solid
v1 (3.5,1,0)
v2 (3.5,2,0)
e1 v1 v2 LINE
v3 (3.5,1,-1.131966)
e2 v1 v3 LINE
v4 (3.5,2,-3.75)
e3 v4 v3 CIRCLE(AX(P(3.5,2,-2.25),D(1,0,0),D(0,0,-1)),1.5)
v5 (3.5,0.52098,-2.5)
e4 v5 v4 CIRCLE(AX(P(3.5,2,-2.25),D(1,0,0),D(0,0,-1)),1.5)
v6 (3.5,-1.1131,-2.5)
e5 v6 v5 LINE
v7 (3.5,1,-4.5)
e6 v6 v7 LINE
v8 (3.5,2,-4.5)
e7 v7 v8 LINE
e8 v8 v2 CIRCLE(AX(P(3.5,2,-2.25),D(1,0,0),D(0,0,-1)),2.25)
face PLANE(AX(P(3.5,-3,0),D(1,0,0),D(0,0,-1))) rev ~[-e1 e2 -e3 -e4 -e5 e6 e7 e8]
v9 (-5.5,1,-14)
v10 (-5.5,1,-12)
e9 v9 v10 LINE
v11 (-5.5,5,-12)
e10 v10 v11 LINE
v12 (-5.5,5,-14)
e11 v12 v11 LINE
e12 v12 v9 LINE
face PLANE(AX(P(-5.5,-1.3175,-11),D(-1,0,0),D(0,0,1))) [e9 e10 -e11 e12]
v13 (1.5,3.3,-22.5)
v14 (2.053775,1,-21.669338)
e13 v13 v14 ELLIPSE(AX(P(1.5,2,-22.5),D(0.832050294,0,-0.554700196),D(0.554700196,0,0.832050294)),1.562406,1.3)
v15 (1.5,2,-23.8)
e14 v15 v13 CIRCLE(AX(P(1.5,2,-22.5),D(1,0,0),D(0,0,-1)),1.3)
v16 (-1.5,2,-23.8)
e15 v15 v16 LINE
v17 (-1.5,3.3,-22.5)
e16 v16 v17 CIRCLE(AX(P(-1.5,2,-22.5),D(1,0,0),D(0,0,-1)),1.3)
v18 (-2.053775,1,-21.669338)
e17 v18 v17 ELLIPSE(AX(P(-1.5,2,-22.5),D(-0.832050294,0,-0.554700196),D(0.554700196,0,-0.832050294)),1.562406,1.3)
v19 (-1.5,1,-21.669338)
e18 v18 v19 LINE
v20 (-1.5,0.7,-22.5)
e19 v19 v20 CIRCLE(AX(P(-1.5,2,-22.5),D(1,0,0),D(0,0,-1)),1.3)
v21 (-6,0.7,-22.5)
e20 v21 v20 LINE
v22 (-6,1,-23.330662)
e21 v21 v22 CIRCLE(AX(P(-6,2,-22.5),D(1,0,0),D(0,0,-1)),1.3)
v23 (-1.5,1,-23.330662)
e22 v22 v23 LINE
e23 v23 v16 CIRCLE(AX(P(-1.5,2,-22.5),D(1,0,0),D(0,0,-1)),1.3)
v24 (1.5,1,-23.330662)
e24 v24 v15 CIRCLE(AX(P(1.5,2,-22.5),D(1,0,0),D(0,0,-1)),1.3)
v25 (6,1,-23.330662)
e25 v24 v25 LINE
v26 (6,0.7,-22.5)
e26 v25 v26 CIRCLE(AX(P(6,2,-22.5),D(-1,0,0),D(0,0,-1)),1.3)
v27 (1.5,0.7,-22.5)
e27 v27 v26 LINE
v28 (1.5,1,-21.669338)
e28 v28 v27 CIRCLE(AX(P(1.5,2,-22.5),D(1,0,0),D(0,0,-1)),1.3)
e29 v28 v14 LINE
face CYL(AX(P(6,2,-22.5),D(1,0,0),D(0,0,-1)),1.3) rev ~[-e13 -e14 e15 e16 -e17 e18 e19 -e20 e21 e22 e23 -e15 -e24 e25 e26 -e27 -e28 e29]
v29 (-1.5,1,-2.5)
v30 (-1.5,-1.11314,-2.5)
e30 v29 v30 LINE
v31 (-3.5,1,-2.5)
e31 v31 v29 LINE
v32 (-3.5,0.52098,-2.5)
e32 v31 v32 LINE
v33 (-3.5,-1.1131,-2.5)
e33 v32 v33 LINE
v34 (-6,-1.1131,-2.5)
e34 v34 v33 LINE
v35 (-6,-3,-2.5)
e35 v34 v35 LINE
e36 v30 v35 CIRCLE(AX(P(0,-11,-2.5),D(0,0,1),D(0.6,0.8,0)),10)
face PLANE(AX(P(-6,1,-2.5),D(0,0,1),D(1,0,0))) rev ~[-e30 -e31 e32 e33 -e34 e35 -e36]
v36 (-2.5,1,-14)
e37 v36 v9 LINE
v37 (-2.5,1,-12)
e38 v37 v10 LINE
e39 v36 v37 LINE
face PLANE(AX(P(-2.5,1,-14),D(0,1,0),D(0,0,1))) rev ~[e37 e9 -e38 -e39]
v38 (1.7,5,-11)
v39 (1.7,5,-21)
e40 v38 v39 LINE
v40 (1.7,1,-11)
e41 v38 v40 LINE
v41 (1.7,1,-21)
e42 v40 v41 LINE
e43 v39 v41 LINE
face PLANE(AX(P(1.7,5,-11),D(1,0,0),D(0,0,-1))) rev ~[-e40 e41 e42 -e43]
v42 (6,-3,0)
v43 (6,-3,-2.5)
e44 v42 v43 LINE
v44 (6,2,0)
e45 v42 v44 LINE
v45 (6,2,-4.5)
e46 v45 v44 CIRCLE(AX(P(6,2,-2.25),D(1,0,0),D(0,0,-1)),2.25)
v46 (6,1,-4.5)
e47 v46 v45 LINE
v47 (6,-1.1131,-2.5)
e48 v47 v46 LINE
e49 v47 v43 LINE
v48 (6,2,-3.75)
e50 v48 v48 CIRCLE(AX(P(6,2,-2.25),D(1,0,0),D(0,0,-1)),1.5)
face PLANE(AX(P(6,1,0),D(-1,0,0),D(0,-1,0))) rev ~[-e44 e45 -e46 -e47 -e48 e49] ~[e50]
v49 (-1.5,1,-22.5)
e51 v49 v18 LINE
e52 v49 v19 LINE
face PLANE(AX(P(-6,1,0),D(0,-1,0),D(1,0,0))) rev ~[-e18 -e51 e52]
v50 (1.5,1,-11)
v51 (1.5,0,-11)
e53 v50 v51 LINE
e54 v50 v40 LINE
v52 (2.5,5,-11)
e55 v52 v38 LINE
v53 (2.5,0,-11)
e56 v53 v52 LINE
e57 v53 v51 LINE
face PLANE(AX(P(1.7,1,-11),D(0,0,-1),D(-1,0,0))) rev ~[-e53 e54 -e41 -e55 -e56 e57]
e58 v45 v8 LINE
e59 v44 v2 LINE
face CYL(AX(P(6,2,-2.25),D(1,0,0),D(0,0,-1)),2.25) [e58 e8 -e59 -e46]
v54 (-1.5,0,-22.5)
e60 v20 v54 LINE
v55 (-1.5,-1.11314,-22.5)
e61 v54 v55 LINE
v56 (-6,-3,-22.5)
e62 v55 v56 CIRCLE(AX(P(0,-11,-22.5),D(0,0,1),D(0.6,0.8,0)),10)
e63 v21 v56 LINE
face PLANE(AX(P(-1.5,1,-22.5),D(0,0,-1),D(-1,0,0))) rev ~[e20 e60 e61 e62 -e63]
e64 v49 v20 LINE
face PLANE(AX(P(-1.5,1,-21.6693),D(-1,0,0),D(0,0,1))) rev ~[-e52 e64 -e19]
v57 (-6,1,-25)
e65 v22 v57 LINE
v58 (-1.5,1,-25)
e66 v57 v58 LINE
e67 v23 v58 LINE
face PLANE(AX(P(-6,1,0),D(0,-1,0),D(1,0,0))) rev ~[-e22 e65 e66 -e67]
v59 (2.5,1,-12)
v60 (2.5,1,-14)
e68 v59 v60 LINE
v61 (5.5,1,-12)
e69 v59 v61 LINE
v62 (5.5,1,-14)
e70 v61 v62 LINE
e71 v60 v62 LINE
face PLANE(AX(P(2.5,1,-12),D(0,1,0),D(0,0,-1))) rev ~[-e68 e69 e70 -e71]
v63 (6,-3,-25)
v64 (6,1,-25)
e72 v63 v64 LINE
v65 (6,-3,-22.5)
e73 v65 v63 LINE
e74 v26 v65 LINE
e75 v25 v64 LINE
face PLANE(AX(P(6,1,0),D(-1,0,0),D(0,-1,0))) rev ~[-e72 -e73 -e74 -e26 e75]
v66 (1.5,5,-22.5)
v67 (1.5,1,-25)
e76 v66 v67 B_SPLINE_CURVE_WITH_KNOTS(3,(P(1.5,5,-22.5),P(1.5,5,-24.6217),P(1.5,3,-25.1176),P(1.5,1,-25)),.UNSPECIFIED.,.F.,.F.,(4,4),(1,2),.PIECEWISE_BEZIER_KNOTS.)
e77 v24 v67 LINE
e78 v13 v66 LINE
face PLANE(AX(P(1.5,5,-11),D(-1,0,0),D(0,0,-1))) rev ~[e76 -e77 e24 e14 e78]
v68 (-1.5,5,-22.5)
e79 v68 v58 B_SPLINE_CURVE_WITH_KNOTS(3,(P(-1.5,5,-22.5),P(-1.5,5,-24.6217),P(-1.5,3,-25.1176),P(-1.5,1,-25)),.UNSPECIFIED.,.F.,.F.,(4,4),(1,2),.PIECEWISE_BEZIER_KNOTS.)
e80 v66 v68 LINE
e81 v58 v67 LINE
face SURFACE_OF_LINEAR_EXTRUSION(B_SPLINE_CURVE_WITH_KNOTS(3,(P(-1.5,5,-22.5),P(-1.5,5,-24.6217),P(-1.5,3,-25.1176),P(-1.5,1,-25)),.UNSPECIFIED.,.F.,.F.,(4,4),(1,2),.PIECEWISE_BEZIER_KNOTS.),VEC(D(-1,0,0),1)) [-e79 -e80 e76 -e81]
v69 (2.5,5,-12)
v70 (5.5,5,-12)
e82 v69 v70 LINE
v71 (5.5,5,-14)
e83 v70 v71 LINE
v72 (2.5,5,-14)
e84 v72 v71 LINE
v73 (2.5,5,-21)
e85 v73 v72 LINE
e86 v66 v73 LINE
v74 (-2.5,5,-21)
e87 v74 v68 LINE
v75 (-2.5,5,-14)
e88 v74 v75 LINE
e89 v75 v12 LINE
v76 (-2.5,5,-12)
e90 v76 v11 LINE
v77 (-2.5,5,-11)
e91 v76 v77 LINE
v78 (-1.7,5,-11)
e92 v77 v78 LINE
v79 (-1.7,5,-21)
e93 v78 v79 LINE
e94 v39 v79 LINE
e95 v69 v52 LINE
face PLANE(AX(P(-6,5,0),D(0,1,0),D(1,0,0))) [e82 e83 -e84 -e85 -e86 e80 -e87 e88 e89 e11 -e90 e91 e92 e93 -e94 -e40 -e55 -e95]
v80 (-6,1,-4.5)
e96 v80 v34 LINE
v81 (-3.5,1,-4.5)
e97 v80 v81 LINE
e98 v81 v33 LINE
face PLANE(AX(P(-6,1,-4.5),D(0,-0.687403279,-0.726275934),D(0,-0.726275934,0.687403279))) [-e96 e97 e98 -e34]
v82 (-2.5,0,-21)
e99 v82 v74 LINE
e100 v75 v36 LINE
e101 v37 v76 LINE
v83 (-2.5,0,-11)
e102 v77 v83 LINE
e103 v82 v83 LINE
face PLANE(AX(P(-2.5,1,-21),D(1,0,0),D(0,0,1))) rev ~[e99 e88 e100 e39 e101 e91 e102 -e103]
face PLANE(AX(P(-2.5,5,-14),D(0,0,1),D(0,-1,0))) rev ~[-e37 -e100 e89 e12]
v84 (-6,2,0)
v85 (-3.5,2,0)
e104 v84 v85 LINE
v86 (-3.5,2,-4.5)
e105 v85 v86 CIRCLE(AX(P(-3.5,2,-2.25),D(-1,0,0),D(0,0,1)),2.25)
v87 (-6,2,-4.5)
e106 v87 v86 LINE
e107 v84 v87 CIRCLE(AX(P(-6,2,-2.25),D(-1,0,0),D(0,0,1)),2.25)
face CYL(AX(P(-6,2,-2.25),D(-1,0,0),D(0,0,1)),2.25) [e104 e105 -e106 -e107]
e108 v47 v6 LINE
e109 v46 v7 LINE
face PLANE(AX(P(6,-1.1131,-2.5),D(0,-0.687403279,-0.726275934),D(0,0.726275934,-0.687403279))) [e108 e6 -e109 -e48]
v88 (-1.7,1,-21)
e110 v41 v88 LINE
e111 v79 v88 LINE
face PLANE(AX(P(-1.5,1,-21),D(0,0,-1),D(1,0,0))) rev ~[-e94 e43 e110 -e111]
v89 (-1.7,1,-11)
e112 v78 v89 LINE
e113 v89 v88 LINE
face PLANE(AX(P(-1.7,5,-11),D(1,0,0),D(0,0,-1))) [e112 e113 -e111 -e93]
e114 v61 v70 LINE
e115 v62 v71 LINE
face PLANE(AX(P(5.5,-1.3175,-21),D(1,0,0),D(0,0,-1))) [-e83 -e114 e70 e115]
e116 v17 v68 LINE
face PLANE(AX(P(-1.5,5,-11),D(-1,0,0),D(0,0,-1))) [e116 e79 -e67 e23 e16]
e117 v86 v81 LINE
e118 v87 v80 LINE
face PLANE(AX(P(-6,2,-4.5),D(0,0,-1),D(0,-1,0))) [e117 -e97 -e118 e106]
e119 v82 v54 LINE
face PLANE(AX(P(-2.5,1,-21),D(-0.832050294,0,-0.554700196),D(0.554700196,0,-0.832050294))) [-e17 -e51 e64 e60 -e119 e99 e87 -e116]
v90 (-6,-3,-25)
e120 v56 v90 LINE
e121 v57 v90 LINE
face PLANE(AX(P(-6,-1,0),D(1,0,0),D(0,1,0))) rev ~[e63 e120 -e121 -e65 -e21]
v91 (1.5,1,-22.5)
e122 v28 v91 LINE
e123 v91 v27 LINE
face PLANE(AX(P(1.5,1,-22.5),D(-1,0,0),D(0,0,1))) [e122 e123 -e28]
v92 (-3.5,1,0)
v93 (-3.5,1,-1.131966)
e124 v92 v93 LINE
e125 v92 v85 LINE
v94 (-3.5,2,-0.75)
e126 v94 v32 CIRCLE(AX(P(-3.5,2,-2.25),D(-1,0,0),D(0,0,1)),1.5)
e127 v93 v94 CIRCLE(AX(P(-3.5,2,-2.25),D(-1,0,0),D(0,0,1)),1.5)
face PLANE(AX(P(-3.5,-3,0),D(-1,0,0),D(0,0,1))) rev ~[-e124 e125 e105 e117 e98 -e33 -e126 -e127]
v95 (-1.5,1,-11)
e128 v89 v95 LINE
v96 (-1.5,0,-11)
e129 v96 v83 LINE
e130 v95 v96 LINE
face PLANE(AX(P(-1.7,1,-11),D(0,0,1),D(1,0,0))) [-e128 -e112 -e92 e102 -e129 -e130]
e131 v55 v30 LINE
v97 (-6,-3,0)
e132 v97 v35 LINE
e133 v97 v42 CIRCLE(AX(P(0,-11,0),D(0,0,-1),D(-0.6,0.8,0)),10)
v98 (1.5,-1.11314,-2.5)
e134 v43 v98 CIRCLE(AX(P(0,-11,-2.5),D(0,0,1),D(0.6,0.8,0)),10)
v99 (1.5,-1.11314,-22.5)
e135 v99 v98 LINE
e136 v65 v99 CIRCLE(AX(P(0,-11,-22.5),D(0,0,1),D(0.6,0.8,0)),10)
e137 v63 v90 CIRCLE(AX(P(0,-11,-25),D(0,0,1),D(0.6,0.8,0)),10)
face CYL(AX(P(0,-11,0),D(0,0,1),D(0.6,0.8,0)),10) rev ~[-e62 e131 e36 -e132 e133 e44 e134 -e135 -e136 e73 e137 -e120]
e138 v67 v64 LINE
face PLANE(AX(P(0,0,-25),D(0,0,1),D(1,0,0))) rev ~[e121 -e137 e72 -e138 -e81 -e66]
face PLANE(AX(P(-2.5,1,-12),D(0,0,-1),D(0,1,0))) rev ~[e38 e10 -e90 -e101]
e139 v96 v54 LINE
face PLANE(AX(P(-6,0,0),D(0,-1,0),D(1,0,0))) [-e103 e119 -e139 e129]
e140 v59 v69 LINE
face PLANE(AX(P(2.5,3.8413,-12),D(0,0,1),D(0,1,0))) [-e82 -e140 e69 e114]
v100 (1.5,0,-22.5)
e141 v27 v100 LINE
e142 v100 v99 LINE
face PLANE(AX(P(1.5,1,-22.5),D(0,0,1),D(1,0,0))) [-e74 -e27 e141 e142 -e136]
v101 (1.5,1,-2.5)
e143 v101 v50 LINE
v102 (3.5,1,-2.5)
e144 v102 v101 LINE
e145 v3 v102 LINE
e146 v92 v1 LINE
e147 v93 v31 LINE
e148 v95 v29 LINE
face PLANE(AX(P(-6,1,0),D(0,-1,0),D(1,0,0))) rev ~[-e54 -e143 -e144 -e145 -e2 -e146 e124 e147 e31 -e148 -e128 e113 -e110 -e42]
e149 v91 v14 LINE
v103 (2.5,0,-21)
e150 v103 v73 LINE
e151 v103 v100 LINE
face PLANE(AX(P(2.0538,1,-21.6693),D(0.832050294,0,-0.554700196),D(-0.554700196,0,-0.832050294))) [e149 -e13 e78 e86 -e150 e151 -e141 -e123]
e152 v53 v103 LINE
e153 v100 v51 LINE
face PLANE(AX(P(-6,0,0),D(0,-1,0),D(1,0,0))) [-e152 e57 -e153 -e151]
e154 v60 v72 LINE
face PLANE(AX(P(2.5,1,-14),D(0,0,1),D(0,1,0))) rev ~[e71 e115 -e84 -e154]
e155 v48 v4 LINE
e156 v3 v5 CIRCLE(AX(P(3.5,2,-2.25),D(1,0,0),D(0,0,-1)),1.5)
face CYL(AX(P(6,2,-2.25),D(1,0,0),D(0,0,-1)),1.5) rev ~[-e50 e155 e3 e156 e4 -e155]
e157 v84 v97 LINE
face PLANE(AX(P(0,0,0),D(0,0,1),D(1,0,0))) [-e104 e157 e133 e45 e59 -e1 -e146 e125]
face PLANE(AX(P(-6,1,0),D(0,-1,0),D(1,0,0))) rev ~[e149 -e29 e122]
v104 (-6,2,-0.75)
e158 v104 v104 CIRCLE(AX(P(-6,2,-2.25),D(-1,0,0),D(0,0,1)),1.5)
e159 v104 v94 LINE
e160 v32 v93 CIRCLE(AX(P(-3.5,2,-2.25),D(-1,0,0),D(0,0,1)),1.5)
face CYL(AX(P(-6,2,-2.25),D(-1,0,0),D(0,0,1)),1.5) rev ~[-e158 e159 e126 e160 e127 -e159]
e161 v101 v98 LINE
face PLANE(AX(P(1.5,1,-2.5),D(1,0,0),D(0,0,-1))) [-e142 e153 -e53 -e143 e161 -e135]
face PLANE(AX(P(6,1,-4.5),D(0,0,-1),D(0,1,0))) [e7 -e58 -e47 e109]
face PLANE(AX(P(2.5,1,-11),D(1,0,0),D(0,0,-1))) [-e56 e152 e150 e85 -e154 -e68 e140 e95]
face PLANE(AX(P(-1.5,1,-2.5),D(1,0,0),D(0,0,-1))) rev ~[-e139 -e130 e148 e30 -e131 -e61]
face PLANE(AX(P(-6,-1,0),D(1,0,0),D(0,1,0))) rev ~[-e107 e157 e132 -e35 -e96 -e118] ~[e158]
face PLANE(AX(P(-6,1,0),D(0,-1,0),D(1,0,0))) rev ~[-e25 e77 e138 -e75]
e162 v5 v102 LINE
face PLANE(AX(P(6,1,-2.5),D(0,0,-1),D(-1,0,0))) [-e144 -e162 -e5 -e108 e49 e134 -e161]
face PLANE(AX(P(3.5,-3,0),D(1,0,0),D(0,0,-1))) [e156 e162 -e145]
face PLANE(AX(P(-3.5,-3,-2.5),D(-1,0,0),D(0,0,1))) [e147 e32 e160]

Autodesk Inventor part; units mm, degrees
ref_plane "YZ Plane" through (0, 0, 0) normal (1, 0, 0) x (0, 1, 0)
ref_plane "XZ Plane" through (0, 0, 0) normal (0, 1, 0) x (-1, 0, 0)
sketch "Sketch1" plane through (0, 0, 0) normal (0, 0, 1) x (1, 0, 0)
  line L0 (-6, 1) -> (6, 1)
  line L1 (6, 1) -> (6, -1)
  line L2 (6, -1) -> (-6, -1)
  line L3 (-6, -1) -> (-6, 1)
  line L4 (-6, 1) -> (6, -1) construction
  line L5 (6, 1) -> (-6, -1) construction
  line L6 (-6, -1) -> (-6, -3)
  line L7 (6, -1) -> (6, -3)
  arc A0 (6, -3) -> (-6, -3) centre (0, -11) ccw
  point P0 (0, 0)
  dimension "d0" = 12
  dimension "d1" = 2
  dimension "d2" = 2
  dimension "d3" = 2
extrude "Extrusion1" add sketch "Sketch1" against normal blind 25
sketch "Sketch2" plane through (-6, 1, 0) normal (0, 1, 0) x (1, 0, 0)
  line L0 (12, 0) -> (12, 25) projected
  line L1 (0, 0) -> (0, 25) projected
  line L2 (0, 0) -> (0, 2.5)
  line L3 (12, 0) -> (12, 2.5)
  line L4 (0, 25) -> (0, 22.5)
  line L5 (12, 25) -> (12, 22.5)
  line L6 (0, 2.5) -> (4.5, 2.5)
  line L7 (4.5, 2.5) -> (4.5, 22.5)
  line L8 (4.5, 22.5) -> (0, 22.5)
  line L9 (0, 22.5) -> (0, 2.5)
  line L10 (12, 2.5) -> (7.5, 2.5)
  line L11 (7.5, 2.5) -> (7.5, 22.5)
  line L12 (7.5, 22.5) -> (12, 22.5)
  line L13 (12, 22.5) -> (12, 2.5)
  point P0 (6, 0)
  dimension "d6" = 2.5
  dimension "d7" = 2.5
  dimension "d8" = 2.5
  dimension "d9" = 2.5
  dimension "d10" = 12
  dimension "d11" = 4.5
  dimension "d12" = 4.5
extrude "Extrusion2" cut sketch "Sketch2" against normal blind 25
sketch "Sketch3" plane through (-6, 1, 0) normal (0, 1, 0) x (1, 0, 0)
  line L0 (7.5, 2.5) -> (7.5, 22.5) projected
  line L1 (4.5, 22.5) -> (4.5, 2.5) projected
  line L2 (0, 0) -> (0, 2.5) projected
  line L3 (4.5, 2.5) -> (4.5, 3.5)
  line L4 (7.5, 2.5) -> (7.5, 3.5)
  line L5 (4.5, 3.5) -> (4.5, 5)
  line L6 (4.5, 5) -> (5, 5)
  line L7 (5, 5) -> (5, 3.5)
  line L8 (5, 3.5) -> (4.5, 3.5)
  line L9 (7.5, 3.5) -> (7.5, 5)
  line L10 (7.5, 5) -> (7, 5)
  line L11 (7, 5) -> (7, 3.5)
  line L12 (7, 3.5) -> (7.5, 3.5)
  line L13 (4.5, 2.5) -> (4.5, 7)
  line L14 (4.5, 7) -> (0, 7)
  line L15 (0, 7) -> (0, 8.5)
  line L16 (0, 8.5) -> (4.5, 8.5)
  line L17 (7.5, 7) -> (12, 7)
  line L18 (12, 7) -> (12, 8.5)
  line L19 (12, 8.5) -> (7.5, 8.5)
  line L20 (4.5, 7) -> (4.5, 21)
  line L21 (7.5, 7) -> (7.5, 21)
  line L22 (4.5, 21) -> (7.5, 21)
  line L23 (7.5, 21) -> (7.5, 22.5)
  line L24 (7.5, 22.5) -> (4.5, 22.5)
  line L25 (4.5, 22.5) -> (4.5, 21)
  line L26 (4.5, 21) -> (3.5, 21)
  line L27 (3.5, 21) -> (3.5, 11)
  line L28 (3.5, 11) -> (4.5, 11)
  line L29 (4.5, 11) -> (4.5, 21)
  line L30 (7.5, 21) -> (8.5, 21)
  line L31 (8.5, 21) -> (8.5, 11)
  line L32 (8.5, 11) -> (7.5, 11)
  line L33 (7.5, 11) -> (7.5, 21)
  line L34 (3.5, 21) -> (4.5, 22.5)
  line L35 (7.5, 22.5) -> (8.5, 21)
  line L36 (7.5, 5) -> (8, 5)
  line L37 (8, 5) -> (8, 3.5)
  line L38 (8, 3.5) -> (7.5, 3.5)
  line L39 (4.5, 5) -> (4, 5)
  line L40 (4, 5) -> (4, 3.5)
  line L41 (4, 3.5) -> (5, 3.5)
  point P0 (12, 25)
  point P1 (12, 0)
  point P2 (6, 0)
  dimension "d15" = 1
  dimension "d16" = 1.5
  dimension "d17" = 0.5
  dimension "d18" = 0.5
  dimension "d19" = 4.5
  dimension "d20" = 1.5
  dimension "d21" = 14
  dimension "d22" = 4.5
  dimension "d23" = 4.5
  dimension "d24" = 14
  dimension "d25" = 25
  dimension "d26" = 1.5
  dimension "d29" = 1
  dimension "d30" = 10
  dimension "d31" = 1
  dimension "d34" = 0.5
  dimension "d35" = 0.5
  dimension "d50" = 10
extrude "Extrusion3" add sketch "Sketch3" along normal blind 4 contours L0 L30 L31 L32 | L22 L1 L24 L0 | L0 L35 L30 | L26 L34 L1 | L1 L28 L27 L26
ref_plane "Work Plane1" through (-1.5, 1, -12.5) normal (-1, 0, 0) x (0, 0, 1)
sketch "Sketch8" plane through (-2.5, -1.3175, -11) normal (-1, 0, 0) x (0, 0, 1)
  line L0 (-10, 6.3175) -> (-11.5, 6.3175) projected
  line L1 (0, 0) -> (-10, 0) projected
  line L2 (0, 2.3175) -> (0, 6.3175) projected
  line L3 (-10, 6.3175) -> (0, 6.3175) projected
  line L4 (-10, 2.3175) -> (0, 2.3175) projected
  line L5 (-3, 6.3175) -> (-1, 6.3175)
  line L6 (-3, 2.3175) -> (-1, 2.3175)
  line L7 (0, 2.3175) -> (-10, 2.3175) projected
  line L8 (0, 2.3175) -> (-10, 2.3175) projected
  line L9 (-3, 6.3175) -> (-3, 2.3175)
  line L10 (-1, 2.3175) -> (-1, 6.3175)
  point P0 (11, 1.3175)
  dimension "d119" = 4
  dimension "d120" = 4
  dimension "d126" = 1
  dimension "d127" = 2
sketch "Sketch9" plane through (2.5, -1.3175, -21) normal (1, 0, 0) x (0, 0, -1)
  line L0 (0, 2.3175) -> (0, 6.3175) projected
  line L1 (0, 0) -> (-10, 0) projected
  line L2 (-10, 2.3175) -> (0, 2.3175) projected
  line L3 (-9, 2.3175) -> (-9, 6.3175) projected
  line L4 (-9, 5.1588) -> (-9, 6.3175)
  line L5 (-9, 6.3175) -> (-7, 6.3175)
  line L6 (-10, 6.3175) -> (0, 6.3175) projected
  line L7 (-9, 6.3175) -> (-9, 2.3175)
  line L8 (-9, 2.3175) -> (-7, 2.3175)
  line L9 (-10, 6.3175) -> (0, 6.3175) projected
  line L10 (0, 6.3175) -> (-10, 6.3175) projected
  line L11 (-10, 6.3175) -> (-9, 6.3175)
  line L12 (-7, 2.3175) -> (-7, 6.3175) projected
  line L13 (-7, 6.3175) -> (-7, 2.3175)
  point P0 (-21, 1.3175)
  point P1 (-9, 1.1588)
  dimension "d121" = 4
  dimension "d122" = 1
  dimension "d123" = 2
ref_plane "Work Plane2" through (-1.5, 5, -11) normal (-1, 0, 0) x (0, 0, -1)
sketch "Sketch12" plane through (-1.5, 5, -11) normal (-1, 0, 0) x (0, 0, -1)
  line L0 (11.5, 4) -> (11.5, 0) projected
  line L1 (14, 8) -> (14, 4) projected
  line L2 (14, 4) -> (11.5, 0)
  line L3 (11.5, 4) -> (14, 4) projected
  line L4 (14, 0) -> (11.5, 0)
  line L5 (11.5, 0) -> (13.6217, 0) construction
  line L6 (13.6217, 0) -> (14.1176, 2) construction
  line L7 (14.1176, 2) -> (14, 4) construction
  spline S0 degree 3 poles (11.5, 0) (13.6217, 0) (14.1176, 2) (14, 4) knots 1 1 1 1 2 2 2 2
  point P0 (-11, 5)
extrude "Extrusion12" add sketch "Sketch12" against normal up to surface (3 mm away)
sketch "Sketch15" plane through (2.5, -1.3175, -21) normal (1, 0, 0) x (0, 0, -1)
  line L0 (1.5, 2.3175) -> (4, 2.3175) projected
  line L1 (1.5, 2.3175) -> (1.5, 6.3175) projected
  line L2 (4, 2.3175) -> (1.5, 2.3175) projected
  line L3 (1.5, 2.3175) -> (1.5, 3.3175)
  circle A0 centre (1.5, 3.3175) radius 1.3
  point P0 (-21, 1.3175)
  dimension "d77" = 1
  dimension "d78" = 2.6
extrude "Extrusion14" cut sketch "Sketch15" against normal up to surface (12 mm away) from surface at 3.5
sketch "Sketch16" plane through (-6, 5, 0) normal (0, 1, 0) x (1, 0, 0)
  line L0 (3.5, 11) -> (4.5, 11) projected
  line L1 (4.5, 11) -> (4.5, 21) projected
  line L2 (7.5, 21) -> (7.5, 11) projected
  line L3 (7.5, 11) -> (8.5, 11) projected
  line L4 (4.5, 11) -> (4.3, 11)
  line L5 (4.3, 11) -> (4.3, 21)
  line L6 (4.3, 21) -> (4.5, 21)
  line L7 (7.5, 11) -> (7.5, 21) projected
  line L8 (7.5, 11) -> (7.7, 11)
  line L9 (7.7, 11) -> (7.7, 21)
  line L10 (7.7, 21) -> (7.5, 21)
  line L11 (7.5, 21) -> (7.5, 11)
  point P0 (6, 0)
  dimension "d81" = 0.2
  dimension "d82" = 0.2
  dimension "d83" = 0.2
extrude "Extrusion15" cut sketch "Sketch16" against normal up to surface (4 mm away)
sketch "Sketch20" plane through (6, -3, 0) normal (1, 0, 0) x (0, 0, -1)
  line L0 (0, 4) -> (2.5, 4) projected
  line L1 (0, 4) -> (4.5, 4)
  arc A0 (4.5, 5) -> (0, 5) centre (2.25, 5) ccw projected
  line L2 (4.5, 4) -> (4.5, 5)
  line L3 (0, 4) -> (0, 5) projected
  line L4 (0, 4) -> (0, 5)
  arc A1 (4.5, 5) -> (0, 5) centre (2.25, 5) ccw
  line L5 (22.5, 1.8869) -> (2.5, 1.8869) projected
  line L6 (2.5, 1.8869) -> (4.5, 4)
  line L7 (2.5, 1.8869) -> (22.5, 1.8869) projected
  line L8 (21, 4) -> (2.5, 4) projected
  line L9 (2.5, 1.8869) -> (2.5, 4)
  point P0 (0, 3)
extrude "Extrusion18" add sketch "Sketch20" against normal blind 2.5
sketch "Sketch21" plane through (-6, -3, 0) normal (-1, 0, 0) x (0, 0, 1)
  arc A0 (0, 5) -> (-4.5, 5) centre (-2.25, 5) ccw projected
  line L0 (-4.5, 5) -> (-4.5, 4) projected
  line L1 (-21, 4) -> (-2.5, 4) projected
  line L2 (0, 4) -> (0, 5) projected
  line L3 (0, 4) -> (-4.5, 4)
  line L4 (-4.5, 5) -> (-4.5, 4)
  line L5 (0, 0) -> (0, 5) projected
  line L6 (0, 4) -> (0, 5)
  arc A1 (0, 5) -> (-4.5, 5) centre (-2.25, 5) ccw
  line L7 (-2.5, 4) -> (-2.5, 0) projected
  line L8 (-2.5, 1.8869) -> (-22.5, 1.8869) projected
  line L9 (-4.5, 4) -> (-2.5, 1.8869) projected
  line L10 (-4.5, 4) -> (-2.5, 1.8869)
  line L11 (-2.5, 1.8869) -> (-2.5, 4)
  point P0 (0, 3)
extrude "Extrusion19" add sketch "Sketch21" against normal blind 2.5
sketch "Sketch22" plane through (6, -3, 0) normal (1, 0, 0) x (0, 0, -1)
  arc A0 (4.5, 5) -> (0, 5) centre (2.25, 5) ccw projected
  circle A1 centre (2.25, 5) radius 1.5
  point P0 (0, 3)
  dimension "d111" = 3
extrude "Extrusion20" cut sketch "Sketch22" against normal up to surface (2.5 mm away)
sketch "Sketch23" plane through (-6, -3, -2.5) normal (-1, 0, 0) x (0, 0, 1)
  arc A0 (2.5, 5) -> (-2, 5) centre (0.25, 5) ccw projected
  circle A1 centre (0.25, 5) radius 1.5
  point P0 (2.5, 3)
  dimension "d114" = 3
extrude "Extrusion21" cut sketch "Sketch23" against normal up to surface (2.5 mm away)
sketch "Sketch24" plane through (-6, 1, 0) normal (0, -1, 0) x (1, 0, 0)
  line L0 (4.3, -21) -> (4.3, -11) projected
  line L1 (3.5, -11) -> (4.3, -11) projected
  line L2 (3.5, -21) -> (3.5, -11) projected
  line L3 (3.9462, -21.6693) -> (3.5, -21) projected
  line L4 (3.9462, -21.6693) -> (4.5, -21.6693) projected
  line L5 (4.5, -21.6693) -> (4.5, -21) projected
  line L6 (4.5, -21) -> (4.3, -21) projected
  line L7 (7.5, -22.5) -> (7.5, -2.5) projected
  line L8 (7.7, -21) -> (7.5, -21) projected
  line L9 (7.5, -21) -> (7.5, -21.6693) projected
  line L10 (7.5, -21.6693) -> (8.0538, -21.6693) projected
  line L11 (8.5, -21) -> (8.0538, -21.6693) projected
  line L12 (8.5, -11) -> (8.5, -21) projected
  line L13 (7.7, -11) -> (8.5, -11) projected
  line L14 (7.7, -11) -> (7.7, -21) projected
  line L15 (0, -23.3307) -> (4.5, -23.3307) projected
  line L16 (0, -22.5) -> (0, -23.3307) projected
  line L17 (4.5, -22.5) -> (0, -22.5) projected
  line L18 (4.5, -21.6693) -> (4.5, -22.5) projected
  line L19 (3.9462, -21.6693) -> (4.5, -21.6693) projected
  line L20 (4.5, -22.5) -> (3.9462, -21.6693) projected
  line L21 (4.5, -23.3307) -> (4.5, -22.5) projected
  line L22 (7.5, -23.3307) -> (12, -23.3307) projected
  line L23 (7.5, -22.5) -> (7.5, -23.3307) projected
  line L24 (8.0538, -21.6693) -> (7.5, -22.5) projected
  line L25 (7.5, -21.6693) -> (8.0538, -21.6693) projected
  line L26 (7.5, -22.5) -> (7.5, -21.6693) projected
  line L27 (12, -22.5) -> (7.5, -22.5) projected
  line L28 (12, -23.3307) -> (12, -22.5) projected
  line L29 (7.5, -2.5) -> (12, -2.5) projected
  line L30 (12, 0) -> (12, -2.5) projected
  line L31 (0, 0) -> (12, 0) projected
  line L32 (0, 0) -> (0, -2.5) projected
  line L33 (0, -2.5) -> (4.5, -2.5) projected
  line L34 (4.5, -2.5) -> (4.5, -22.5) projected
  line L35 (4.5, -22.5) -> (0, -22.5) projected
  line L36 (0, -22.5) -> (0, -25) projected
  line L37 (12, -25) -> (0, -25) projected
  line L38 (12, -22.5) -> (12, -25) projected
  line L39 (12, -22.5) -> (7.5, -22.5) projected
  line L40 (7.5, -22.5) -> (7.5, -2.5) projected
  line L41 (7.5, -2.5) -> (12, -2.5) projected
  line L42 (12, 0) -> (12, -2.5) projected
  line L43 (0, 0) -> (12, 0) projected
  line L44 (0, 0) -> (0, -2.5) projected
  line L45 (0, -2.5) -> (4.5, -2.5) projected
  line L46 (4.5, -2.5) -> (4.5, -22.5) projected
  line L47 (4.5, -22.5) -> (0, -22.5) projected
  line L48 (0, -22.5) -> (0, -25) projected
  line L49 (12, -25) -> (0, -25) projected
  line L50 (12, -22.5) -> (12, -25) projected
  line L51 (12, -22.5) -> (7.5, -22.5) projected
  line L52 (7.5, -22.5) -> (7.5, -2.5) projected
  line L53 (4.5, -30) -> (4.5, 5) projected
  line L54 (8.5, -11) -> (7.5, -11)
  line L55 (7.5, -2.5) -> (7.5, -21) projected
  line L56 (7.5, -22.5) -> (4.5, -22.5) projected
  line L57 (7.5, -11) -> (7.5, -22.5)
  line L58 (8.3667, -21.2) -> (7.5, -22.5) projected
  line L59 (7.5, -22.5) -> (8.5, -21)
  line L60 (8.5, -11) -> (8.5, -21) projected
  line L61 (8.5, -11) -> (8.5, -21) projected
  line L62 (8.5, -11) -> (8.5, -21)
  line L63 (7.5, -11) -> (7.5, -22.5)
  line L64 (3.5, -21) -> (3.5, -11) projected
  line L65 (3.5, -11) -> (3.5, -21)
  line L66 (3.5, -21) -> (3.5, -11) projected
  line L67 (3.5, -21) -> (4.5, -22.5)
  line L68 (3.5, -11) -> (4.5, -11)
  line L69 (3.5, -21) -> (4.5, -22.5)
  line L70 (4.5, -22.5) -> (4.5, -11)
  line L71 (4.5, -2.5) -> (4.5, -22.5) projected
  line L72 (4.5, -11) -> (4.5, -22.5)
  point P0 (6, 0)
  point P1 (3.5, -12)
  point P2 (3.5, -14)
  point P3 (8.5, -14)
  point P4 (8.5, -12)
extrude "Extrusion22" add sketch "Sketch24" along normal blind 1 contours L6 L5 L4 L3 L2 L1 L0 | L0 L68 L34 L6 | L18 L20 L4 | L7 L10 L24 | L7 L8 L14 L13 L12 L11 L10 | L7 L54 L14 L8
extrude "Extrusion23" add sketch "Sketch9" along normal blind 3 contours L2 L3 L5 L12
extrude "Extrusion24" add sketch "Sketch8" along normal blind 3 contours L4 L9 L3 L10
equation "\"d7\" = d6"
equation "\"d8\" = d6"
equation "\"d9\" = d6"
equation "\"d12\" = d11"
equation "\"d18\" = d17"
equation "\"d22\" = d23"
equation "\"d24\" = d21"
equation "\"d31\" = d29"
equation "\"d34\" = d17"
equation "\"d50\" = d30"
equation "\"d82\" = d81"
properties part number "back_pack_5"
